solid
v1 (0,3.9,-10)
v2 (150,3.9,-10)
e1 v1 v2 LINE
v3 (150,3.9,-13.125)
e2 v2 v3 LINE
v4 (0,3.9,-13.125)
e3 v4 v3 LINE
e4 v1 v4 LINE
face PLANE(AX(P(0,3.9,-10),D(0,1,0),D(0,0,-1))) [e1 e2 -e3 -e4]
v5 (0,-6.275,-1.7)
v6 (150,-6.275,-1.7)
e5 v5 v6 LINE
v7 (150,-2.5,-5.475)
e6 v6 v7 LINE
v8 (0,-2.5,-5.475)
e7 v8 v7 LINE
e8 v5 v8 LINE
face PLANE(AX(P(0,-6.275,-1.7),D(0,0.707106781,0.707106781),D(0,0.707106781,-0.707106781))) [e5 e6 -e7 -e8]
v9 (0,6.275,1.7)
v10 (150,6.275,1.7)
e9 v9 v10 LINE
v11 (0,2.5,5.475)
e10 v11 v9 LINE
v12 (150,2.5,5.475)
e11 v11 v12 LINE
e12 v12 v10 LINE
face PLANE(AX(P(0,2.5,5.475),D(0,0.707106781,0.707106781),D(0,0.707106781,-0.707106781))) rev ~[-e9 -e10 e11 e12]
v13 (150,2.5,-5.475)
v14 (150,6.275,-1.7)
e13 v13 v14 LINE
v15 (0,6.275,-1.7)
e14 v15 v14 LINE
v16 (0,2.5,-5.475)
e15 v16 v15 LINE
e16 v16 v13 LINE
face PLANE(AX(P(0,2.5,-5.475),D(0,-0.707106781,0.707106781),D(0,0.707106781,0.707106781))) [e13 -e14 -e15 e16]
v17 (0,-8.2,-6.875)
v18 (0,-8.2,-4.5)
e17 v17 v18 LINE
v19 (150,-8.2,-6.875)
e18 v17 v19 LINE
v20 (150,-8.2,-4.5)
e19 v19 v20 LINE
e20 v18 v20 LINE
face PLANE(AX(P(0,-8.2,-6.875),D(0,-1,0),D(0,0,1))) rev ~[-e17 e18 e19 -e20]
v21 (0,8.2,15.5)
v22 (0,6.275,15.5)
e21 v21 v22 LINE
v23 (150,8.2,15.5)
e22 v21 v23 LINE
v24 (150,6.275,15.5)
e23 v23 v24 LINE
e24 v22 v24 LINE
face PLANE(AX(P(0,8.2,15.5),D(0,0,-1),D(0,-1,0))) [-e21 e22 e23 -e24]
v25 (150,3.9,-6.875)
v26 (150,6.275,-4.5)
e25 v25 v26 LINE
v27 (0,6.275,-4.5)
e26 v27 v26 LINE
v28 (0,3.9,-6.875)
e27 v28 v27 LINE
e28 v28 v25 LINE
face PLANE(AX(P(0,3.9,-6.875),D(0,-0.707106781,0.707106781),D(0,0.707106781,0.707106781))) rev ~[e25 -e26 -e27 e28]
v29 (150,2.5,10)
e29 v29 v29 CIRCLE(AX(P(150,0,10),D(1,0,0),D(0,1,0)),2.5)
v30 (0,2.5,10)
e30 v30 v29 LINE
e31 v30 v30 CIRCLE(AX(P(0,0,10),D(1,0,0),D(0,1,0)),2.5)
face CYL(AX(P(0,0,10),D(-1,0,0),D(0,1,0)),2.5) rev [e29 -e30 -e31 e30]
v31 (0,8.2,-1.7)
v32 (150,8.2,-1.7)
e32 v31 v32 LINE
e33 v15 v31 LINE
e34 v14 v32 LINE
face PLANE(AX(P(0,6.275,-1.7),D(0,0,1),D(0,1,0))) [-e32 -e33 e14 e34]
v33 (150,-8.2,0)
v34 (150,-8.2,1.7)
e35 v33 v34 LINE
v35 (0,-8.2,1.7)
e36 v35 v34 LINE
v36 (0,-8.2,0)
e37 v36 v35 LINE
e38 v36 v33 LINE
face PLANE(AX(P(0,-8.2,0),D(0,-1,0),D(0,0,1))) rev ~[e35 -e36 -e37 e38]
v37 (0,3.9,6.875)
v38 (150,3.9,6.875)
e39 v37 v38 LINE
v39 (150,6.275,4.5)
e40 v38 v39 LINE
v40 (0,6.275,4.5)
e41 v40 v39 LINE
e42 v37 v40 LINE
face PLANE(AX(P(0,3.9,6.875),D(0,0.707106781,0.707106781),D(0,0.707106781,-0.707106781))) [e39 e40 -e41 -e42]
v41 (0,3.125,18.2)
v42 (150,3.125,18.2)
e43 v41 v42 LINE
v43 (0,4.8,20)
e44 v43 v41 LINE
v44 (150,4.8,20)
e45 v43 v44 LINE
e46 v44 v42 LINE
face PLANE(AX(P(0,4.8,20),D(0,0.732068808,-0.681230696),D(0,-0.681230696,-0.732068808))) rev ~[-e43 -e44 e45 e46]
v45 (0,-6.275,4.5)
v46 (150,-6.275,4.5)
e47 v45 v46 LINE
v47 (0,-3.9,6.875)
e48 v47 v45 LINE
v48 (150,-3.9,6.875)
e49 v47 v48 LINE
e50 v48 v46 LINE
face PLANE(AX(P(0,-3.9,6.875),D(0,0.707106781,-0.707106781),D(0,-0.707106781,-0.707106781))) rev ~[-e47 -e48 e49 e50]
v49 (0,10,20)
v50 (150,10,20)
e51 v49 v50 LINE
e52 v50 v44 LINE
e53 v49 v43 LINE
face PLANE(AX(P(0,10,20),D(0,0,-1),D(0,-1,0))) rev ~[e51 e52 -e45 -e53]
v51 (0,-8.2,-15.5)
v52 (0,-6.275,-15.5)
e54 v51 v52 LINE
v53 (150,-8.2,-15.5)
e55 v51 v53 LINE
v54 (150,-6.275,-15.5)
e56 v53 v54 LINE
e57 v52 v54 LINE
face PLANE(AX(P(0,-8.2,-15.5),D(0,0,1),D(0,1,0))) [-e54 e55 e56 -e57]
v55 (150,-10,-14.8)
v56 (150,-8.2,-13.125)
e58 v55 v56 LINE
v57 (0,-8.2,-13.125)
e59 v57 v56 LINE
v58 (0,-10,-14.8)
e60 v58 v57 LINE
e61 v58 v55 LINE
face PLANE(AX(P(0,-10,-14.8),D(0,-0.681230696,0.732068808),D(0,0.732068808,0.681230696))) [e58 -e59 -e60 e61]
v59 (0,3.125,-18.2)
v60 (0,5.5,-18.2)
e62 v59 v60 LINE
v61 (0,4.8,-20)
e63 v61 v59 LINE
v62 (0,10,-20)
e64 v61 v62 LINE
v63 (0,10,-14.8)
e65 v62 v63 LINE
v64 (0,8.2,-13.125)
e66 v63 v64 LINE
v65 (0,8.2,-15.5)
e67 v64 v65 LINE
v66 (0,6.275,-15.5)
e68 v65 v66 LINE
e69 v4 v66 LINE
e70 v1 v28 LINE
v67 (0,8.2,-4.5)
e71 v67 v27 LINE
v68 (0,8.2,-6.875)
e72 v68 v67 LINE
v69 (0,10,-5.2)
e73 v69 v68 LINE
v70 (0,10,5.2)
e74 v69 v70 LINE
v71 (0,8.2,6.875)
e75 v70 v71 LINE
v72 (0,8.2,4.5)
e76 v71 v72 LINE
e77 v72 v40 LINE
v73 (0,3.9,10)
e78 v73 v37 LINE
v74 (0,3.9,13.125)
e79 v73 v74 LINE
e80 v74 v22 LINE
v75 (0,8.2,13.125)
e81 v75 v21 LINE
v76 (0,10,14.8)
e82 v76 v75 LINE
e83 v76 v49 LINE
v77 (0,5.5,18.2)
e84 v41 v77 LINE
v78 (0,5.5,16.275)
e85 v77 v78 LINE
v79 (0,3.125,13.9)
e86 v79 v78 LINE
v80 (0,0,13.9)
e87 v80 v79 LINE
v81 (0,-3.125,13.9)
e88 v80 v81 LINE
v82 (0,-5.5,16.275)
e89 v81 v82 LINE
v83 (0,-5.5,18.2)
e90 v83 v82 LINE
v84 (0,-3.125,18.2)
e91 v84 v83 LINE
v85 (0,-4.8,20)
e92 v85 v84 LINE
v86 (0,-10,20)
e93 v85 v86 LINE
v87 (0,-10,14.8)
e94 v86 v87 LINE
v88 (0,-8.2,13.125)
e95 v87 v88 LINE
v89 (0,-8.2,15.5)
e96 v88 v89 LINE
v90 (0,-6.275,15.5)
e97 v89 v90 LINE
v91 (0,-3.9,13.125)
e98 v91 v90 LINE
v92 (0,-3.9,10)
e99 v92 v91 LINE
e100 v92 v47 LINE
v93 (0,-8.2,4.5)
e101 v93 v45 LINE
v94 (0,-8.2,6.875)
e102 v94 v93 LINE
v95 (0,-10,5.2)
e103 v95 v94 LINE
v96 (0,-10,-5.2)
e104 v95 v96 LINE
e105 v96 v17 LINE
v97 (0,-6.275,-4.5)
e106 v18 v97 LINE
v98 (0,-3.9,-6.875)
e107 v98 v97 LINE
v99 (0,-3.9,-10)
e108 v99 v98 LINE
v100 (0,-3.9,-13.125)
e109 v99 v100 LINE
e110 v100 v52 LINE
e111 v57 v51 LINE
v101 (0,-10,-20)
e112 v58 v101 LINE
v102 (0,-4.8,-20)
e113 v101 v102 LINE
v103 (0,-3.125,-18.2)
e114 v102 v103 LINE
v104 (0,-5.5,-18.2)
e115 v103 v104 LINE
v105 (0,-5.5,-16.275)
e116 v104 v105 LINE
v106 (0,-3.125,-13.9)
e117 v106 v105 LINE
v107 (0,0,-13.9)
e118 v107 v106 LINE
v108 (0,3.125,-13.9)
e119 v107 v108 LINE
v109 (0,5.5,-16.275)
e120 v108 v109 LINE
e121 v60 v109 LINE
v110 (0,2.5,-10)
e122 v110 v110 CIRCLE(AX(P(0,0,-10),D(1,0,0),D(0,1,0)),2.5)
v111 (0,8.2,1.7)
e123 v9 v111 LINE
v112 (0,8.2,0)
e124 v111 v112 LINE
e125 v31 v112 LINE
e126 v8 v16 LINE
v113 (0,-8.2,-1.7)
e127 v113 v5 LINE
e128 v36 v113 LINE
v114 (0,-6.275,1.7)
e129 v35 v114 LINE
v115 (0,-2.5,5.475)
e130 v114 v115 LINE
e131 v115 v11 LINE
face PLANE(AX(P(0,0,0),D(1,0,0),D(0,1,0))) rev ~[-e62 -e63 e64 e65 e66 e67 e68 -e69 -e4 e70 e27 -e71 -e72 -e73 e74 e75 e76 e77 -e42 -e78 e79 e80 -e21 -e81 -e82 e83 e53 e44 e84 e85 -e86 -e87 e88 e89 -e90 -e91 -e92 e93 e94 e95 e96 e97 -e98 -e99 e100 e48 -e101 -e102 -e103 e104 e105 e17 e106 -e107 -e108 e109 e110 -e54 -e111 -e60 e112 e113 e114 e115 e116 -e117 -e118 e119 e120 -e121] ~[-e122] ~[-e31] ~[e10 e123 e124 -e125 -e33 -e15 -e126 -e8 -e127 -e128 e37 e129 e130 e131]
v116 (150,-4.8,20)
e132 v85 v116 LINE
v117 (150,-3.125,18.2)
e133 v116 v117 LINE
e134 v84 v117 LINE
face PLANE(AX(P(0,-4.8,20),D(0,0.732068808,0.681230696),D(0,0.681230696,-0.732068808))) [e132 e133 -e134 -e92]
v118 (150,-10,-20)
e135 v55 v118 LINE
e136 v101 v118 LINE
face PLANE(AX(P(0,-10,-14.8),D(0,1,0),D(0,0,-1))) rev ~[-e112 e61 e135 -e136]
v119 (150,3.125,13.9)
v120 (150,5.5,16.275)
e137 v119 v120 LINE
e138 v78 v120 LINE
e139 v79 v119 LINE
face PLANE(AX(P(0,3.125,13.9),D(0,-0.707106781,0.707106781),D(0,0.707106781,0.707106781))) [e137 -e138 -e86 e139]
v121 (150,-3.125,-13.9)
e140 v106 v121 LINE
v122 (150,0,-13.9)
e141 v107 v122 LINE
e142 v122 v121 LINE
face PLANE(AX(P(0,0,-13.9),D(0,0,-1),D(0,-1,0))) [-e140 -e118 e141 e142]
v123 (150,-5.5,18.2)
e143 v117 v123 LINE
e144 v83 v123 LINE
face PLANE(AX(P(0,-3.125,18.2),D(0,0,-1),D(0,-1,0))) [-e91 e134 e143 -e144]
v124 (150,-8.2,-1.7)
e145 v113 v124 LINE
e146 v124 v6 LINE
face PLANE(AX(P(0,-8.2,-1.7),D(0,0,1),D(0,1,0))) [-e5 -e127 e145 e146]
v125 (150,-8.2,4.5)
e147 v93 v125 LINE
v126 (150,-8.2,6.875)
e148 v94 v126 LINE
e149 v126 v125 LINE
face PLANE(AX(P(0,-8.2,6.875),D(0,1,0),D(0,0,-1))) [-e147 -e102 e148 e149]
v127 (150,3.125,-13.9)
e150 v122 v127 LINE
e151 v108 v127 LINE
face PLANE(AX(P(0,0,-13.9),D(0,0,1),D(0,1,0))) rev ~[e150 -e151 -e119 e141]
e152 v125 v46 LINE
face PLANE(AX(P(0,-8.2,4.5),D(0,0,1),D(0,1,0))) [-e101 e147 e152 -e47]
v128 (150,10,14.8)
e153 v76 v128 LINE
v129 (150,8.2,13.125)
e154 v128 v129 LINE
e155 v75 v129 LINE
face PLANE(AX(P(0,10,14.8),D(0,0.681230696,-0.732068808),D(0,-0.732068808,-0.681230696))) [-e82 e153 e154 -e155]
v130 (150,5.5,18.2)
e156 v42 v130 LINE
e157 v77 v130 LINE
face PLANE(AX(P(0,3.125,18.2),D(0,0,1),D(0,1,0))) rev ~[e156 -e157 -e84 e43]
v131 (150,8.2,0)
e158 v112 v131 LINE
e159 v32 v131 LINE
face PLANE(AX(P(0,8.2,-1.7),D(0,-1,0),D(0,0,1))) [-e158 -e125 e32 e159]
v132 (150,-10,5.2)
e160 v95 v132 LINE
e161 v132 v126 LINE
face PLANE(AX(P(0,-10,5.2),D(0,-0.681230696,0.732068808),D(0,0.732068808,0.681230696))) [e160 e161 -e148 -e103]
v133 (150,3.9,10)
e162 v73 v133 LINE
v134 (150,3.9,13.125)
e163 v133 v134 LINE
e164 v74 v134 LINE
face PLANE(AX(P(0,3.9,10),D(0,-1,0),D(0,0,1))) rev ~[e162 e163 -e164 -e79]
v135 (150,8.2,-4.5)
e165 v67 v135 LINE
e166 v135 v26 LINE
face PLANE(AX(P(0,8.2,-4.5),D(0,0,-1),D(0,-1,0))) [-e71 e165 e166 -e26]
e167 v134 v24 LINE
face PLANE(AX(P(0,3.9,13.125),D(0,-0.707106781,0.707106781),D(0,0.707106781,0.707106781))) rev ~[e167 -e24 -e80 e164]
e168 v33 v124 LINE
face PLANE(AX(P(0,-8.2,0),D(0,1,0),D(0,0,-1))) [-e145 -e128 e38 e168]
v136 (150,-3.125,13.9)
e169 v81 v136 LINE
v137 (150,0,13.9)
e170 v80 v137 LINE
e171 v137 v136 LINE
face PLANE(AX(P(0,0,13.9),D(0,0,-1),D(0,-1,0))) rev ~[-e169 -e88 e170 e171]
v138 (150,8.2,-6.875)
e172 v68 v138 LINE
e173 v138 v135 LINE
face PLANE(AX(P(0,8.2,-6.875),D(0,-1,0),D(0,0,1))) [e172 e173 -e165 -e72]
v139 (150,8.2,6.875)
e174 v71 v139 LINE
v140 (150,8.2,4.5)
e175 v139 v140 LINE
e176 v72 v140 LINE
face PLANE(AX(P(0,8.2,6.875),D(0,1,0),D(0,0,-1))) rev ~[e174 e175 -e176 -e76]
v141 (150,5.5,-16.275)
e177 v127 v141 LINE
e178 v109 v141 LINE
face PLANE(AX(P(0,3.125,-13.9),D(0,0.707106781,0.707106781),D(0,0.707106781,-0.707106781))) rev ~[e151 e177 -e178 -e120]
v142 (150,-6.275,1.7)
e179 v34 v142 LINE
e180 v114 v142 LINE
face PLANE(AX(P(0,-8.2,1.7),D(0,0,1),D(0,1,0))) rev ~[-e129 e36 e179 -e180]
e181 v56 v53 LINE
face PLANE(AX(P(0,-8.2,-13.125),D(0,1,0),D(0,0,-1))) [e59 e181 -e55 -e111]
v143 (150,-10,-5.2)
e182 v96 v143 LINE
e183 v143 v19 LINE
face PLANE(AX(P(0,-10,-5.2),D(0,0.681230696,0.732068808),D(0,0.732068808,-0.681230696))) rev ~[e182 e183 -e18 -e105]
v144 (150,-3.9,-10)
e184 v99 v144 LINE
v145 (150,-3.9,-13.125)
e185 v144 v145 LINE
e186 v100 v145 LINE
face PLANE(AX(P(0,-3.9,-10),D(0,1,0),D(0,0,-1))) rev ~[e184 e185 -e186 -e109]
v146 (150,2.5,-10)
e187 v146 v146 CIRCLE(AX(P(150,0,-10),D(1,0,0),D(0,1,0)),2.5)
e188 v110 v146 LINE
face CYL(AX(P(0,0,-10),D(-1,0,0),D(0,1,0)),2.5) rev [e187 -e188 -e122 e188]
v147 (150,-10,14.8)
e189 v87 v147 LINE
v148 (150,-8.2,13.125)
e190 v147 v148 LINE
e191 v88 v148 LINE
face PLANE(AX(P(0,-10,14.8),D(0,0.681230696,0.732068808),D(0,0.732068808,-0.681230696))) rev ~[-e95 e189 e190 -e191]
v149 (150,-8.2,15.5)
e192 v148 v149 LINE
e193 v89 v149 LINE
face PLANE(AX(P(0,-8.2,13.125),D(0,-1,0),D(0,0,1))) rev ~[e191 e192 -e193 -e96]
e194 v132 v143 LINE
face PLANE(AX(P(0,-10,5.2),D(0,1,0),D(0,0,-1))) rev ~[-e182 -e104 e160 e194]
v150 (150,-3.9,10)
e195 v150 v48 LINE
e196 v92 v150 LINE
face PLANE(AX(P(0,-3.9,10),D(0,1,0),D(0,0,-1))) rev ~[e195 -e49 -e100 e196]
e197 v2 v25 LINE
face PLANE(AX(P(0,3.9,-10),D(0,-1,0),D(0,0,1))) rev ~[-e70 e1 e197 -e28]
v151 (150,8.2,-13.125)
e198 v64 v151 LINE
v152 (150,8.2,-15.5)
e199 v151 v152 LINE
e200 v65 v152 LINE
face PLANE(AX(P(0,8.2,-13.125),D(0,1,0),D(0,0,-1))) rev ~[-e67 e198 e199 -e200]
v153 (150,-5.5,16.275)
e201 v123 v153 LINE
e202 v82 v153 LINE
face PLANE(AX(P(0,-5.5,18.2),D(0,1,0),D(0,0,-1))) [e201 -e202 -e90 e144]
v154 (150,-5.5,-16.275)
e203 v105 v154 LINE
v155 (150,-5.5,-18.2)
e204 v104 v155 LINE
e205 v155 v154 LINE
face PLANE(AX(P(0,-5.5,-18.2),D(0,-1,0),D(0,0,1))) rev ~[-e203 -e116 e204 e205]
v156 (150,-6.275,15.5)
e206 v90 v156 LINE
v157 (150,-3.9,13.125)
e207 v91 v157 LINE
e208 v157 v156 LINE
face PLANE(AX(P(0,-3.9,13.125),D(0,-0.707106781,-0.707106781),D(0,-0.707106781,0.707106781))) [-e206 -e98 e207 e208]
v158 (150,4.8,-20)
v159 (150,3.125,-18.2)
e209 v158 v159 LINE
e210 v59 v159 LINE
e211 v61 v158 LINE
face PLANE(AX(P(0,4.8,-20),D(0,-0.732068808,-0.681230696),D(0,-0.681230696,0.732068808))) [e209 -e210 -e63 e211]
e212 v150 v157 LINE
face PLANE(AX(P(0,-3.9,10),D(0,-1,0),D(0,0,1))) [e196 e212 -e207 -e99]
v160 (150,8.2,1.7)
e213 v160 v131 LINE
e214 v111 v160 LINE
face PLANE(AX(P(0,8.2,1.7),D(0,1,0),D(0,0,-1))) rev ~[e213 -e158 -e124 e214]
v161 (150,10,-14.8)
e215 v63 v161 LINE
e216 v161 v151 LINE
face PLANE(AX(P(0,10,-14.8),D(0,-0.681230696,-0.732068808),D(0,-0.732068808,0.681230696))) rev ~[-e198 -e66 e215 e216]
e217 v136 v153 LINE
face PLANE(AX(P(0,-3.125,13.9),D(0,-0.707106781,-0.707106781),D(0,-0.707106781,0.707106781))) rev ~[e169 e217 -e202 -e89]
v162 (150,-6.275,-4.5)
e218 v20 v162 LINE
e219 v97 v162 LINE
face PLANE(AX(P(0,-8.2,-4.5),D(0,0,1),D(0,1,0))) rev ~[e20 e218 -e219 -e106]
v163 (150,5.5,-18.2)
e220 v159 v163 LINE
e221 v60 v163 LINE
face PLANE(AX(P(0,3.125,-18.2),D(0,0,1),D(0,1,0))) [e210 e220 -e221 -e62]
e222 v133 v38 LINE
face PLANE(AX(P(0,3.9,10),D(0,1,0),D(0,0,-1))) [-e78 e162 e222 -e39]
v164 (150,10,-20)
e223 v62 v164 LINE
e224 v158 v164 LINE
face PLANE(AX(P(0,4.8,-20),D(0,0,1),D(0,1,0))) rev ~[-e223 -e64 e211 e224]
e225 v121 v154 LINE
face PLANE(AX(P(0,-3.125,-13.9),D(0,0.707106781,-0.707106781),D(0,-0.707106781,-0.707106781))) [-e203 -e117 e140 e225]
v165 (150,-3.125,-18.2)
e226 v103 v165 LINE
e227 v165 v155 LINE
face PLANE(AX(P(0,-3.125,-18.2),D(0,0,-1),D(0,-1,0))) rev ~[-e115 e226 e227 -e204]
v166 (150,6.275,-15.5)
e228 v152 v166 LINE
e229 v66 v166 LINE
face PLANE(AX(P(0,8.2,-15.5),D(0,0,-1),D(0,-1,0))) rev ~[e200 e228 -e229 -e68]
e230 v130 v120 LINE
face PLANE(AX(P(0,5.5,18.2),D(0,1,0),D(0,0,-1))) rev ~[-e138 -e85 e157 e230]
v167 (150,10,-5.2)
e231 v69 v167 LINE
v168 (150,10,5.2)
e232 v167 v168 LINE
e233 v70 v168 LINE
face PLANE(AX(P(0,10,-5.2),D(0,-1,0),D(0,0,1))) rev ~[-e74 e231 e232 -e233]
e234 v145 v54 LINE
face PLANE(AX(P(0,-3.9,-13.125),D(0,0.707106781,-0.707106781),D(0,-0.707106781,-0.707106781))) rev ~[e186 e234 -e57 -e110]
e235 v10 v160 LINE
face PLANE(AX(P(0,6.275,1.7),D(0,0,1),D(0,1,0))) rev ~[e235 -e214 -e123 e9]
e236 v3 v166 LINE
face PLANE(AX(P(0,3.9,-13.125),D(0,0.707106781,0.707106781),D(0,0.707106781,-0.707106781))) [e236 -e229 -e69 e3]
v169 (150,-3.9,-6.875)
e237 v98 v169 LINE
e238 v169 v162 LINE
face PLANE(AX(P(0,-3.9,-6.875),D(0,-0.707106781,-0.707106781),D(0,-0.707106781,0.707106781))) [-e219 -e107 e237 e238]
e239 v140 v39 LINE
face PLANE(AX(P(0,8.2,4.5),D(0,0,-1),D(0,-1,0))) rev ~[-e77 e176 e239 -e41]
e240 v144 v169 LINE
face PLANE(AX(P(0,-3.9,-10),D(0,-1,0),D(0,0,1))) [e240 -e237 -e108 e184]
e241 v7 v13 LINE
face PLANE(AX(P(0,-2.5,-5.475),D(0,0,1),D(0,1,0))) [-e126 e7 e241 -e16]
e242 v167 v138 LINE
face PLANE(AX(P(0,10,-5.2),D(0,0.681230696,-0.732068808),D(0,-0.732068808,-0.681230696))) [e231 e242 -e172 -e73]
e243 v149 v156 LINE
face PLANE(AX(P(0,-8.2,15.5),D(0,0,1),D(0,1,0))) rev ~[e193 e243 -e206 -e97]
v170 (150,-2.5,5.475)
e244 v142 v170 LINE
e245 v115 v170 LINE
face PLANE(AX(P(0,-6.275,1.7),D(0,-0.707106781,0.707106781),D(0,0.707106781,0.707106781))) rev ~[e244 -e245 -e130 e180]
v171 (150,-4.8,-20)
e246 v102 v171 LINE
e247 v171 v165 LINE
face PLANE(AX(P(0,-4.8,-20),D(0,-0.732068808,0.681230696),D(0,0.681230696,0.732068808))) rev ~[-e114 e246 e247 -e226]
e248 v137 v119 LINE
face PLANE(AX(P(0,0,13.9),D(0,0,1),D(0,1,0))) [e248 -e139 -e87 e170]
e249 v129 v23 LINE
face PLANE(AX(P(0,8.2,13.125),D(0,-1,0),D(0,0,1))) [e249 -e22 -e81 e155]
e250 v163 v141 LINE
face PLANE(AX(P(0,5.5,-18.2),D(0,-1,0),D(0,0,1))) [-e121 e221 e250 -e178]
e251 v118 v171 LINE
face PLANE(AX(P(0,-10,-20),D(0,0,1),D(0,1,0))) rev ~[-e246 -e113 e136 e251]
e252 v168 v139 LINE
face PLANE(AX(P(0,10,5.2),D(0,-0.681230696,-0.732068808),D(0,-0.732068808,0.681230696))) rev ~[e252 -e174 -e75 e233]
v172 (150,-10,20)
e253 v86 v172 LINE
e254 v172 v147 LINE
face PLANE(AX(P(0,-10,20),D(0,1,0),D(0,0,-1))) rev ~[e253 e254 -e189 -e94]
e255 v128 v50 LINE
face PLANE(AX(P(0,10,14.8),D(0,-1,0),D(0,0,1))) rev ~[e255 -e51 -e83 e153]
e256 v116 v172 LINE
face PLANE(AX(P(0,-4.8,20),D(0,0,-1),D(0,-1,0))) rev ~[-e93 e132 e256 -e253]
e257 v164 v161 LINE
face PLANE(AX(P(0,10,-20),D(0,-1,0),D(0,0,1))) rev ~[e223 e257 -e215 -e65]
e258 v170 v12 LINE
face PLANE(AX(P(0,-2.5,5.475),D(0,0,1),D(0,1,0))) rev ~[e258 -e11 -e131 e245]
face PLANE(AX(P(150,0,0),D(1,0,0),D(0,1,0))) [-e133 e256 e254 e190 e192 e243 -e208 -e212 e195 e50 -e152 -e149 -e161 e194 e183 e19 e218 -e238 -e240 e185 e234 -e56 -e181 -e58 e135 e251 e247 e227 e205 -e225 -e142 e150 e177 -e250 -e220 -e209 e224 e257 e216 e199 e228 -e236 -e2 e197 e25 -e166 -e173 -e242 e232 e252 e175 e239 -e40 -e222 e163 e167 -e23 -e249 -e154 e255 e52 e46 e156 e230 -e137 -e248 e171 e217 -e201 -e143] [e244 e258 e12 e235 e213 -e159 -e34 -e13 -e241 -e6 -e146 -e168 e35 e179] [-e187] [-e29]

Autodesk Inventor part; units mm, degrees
ref_plane "YZ Plane" through (0, 0, 0) normal (1, 0, 0) x (0, 1, 0)
ref_plane "XZ Plane" through (0, 0, 0) normal (0, 1, 0) x (-1, 0, 0)
ref_plane "XY Plane" through (0, 0, 0) normal (0, 0, 1) x (1, 0, 0)
sketch "Sketch1" plane through (0, 0, 0) normal (1, 0, 0) x (0, 1, 0)
  line L0 (10, 20) -> (-10, 20)
  line L1 (-10, 20) -> (-10, -20)
  line L2 (-10, -20) -> (10, -20)
  line L3 (10, -20) -> (10, 20)
  line L4 (10, 20) -> (-10, -20) construction
  line L5 (-10, 20) -> (10, -20) construction
  line L6 (0, -20) -> (0, -10) construction
  circle A0 centre (0, -10) radius 2.5
  line L7 (10, 0) -> (0, 0) construction
  circle A1 centre (0, 10) radius 2.5
  line L8 (0, 20) -> (0, 18.2) construction
  line L9 (0, 18.2) -> (3.125, 18.2)
  line L10 (0, 18.2) -> (0, 13.9)
  line L11 (0, 20) -> (4.8, 20)
  line L12 (4.8, 20) -> (3.125, 18.2)
  line L13 (0, 18.2) -> (5.5, 18.2)
  line L14 (0, 13.9) -> (3.125, 13.9)
  line L15 (5.5, 18.2) -> (5.5, 16.275)
  line L16 (3.125, 13.9) -> (5.5, 16.275)
  line L17 (3.125, 13.9) -> (8.7353, 13.9) construction
  line L18 (0, 18.2) -> (-3.125, 18.2)
  line L19 (0, 20) -> (-4.8, 20)
  line L20 (-4.8, 20) -> (-3.125, 18.2)
  line L21 (0, 18.2) -> (-5.5, 18.2)
  line L22 (0, 13.9) -> (-3.125, 13.9)
  line L23 (-5.5, 18.2) -> (-5.5, 16.275)
  line L24 (-3.125, 13.9) -> (-5.5, 16.275)
  line L25 (10, 10) -> (8.2, 10) construction
  line L26 (8.2, 10) -> (8.2, 6.875)
  line L27 (8.2, 10) -> (3.9, 10)
  line L28 (10, 10) -> (10, 5.2)
  line L29 (10, 5.2) -> (8.2, 6.875)
  line L30 (8.2, 10) -> (8.2, 4.5)
  line L31 (3.9, 10) -> (3.9, 6.875)
  line L32 (8.2, 4.5) -> (6.275, 4.5)
  line L33 (3.9, 6.875) -> (6.275, 4.5)
  line L34 (3.9, 13.125) -> (6.275, 15.5)
  line L35 (8.2, 10) -> (8.2, 15.5)
  line L36 (8.2, 15.5) -> (6.275, 15.5)
  line L37 (8.2, 10) -> (8.2, 13.125)
  line L38 (10, 10) -> (10, 14.8)
  line L39 (10, 14.8) -> (8.2, 13.125)
  line L40 (3.9, 10) -> (3.9, 13.125)
  line L41 (0, 10) -> (10, 10) construction
  line L42 (-3.9, 10) -> (-3.9, 13.125)
  line L43 (-3.9, 13.125) -> (-6.275, 15.5)
  line L44 (-8.2, 10) -> (-8.2, 15.5)
  line L45 (-8.2, 15.5) -> (-6.275, 15.5)
  line L46 (-10, 14.8) -> (-8.2, 13.125)
  line L47 (-3.9, 10) -> (-3.9, 6.875)
  line L48 (-3.9, 6.875) -> (-6.275, 4.5)
  line L49 (-8.2, 4.5) -> (-6.275, 4.5)
  line L50 (-8.2, 10) -> (-8.2, 4.5)
  line L51 (-10, 5.2) -> (-8.2, 6.875)
  line L52 (0, -20) -> (0, -18.2) construction
  line L53 (0, -18.2) -> (3.125, -18.2)
  line L54 (0, -18.2) -> (0, -13.9)
  line L55 (0, -20) -> (4.8, -20)
  line L56 (4.8, -20) -> (3.125, -18.2)
  line L57 (0, -18.2) -> (5.5, -18.2)
  line L58 (0, -13.9) -> (3.125, -13.9)
  line L59 (5.5, -18.2) -> (5.5, -16.275)
  line L60 (3.125, -13.9) -> (5.5, -16.275)
  line L61 (3.125, -13.9) -> (8.7353, -13.9) construction
  line L62 (-3.125, -13.9) -> (-5.5, -16.275)
  line L63 (0, -18.2) -> (-5.5, -18.2)
  line L64 (-5.5, -18.2) -> (-5.5, -16.275)
  line L65 (0, -18.2) -> (-3.125, -18.2)
  line L66 (0, -20) -> (-4.8, -20)
  line L67 (-4.8, -20) -> (-3.125, -18.2)
  line L68 (0, -13.9) -> (-3.125, -13.9)
  line L69 (8.2, -10) -> (8.2, -13.125)
  line L70 (3.9, -10) -> (3.9, -13.125)
  line L71 (3.9, -13.125) -> (6.275, -15.5)
  line L72 (10, -10) -> (10, -14.8)
  line L73 (8.2, -10) -> (8.2, -15.5)
  line L74 (8.2, -15.5) -> (6.275, -15.5)
  line L75 (10, -14.8) -> (8.2, -13.125)
  line L76 (3.9, -10) -> (3.9, -6.875)
  line L77 (3.9, -6.875) -> (6.275, -4.5)
  line L78 (8.2, -4.5) -> (6.275, -4.5)
  line L79 (8.2, -10) -> (3.9, -10)
  line L80 (8.2, -10) -> (8.2, -6.875)
  line L81 (8.2, -10) -> (8.2, -4.5)
  line L82 (10, -5.2) -> (8.2, -6.875)
  line L83 (10, -10) -> (10, -5.2)
  line L84 (10, -10) -> (8.2, -10) construction
  line L85 (-10, -14.8) -> (-8.2, -13.125)
  line L86 (-8.2, -10) -> (-8.2, -15.5)
  line L87 (-8.2, -15.5) -> (-6.275, -15.5)
  line L88 (-3.9, -13.125) -> (-6.275, -15.5)
  line L89 (-3.9, -10) -> (-3.9, -13.125)
  line L90 (-3.9, -10) -> (-3.9, -6.875)
  line L91 (-3.9, -6.875) -> (-6.275, -4.5)
  line L92 (-8.2, -4.5) -> (-6.275, -4.5)
  line L93 (-8.2, -10) -> (-8.2, -4.5)
  line L94 (-10, -5.2) -> (-8.2, -6.875)
  line L95 (-8.2, -4.5) -> (-8.2, 0) construction
  line L96 (-8.2, 0) -> (-8.2, 1.7)
  line L97 (-8.2, 1.7) -> (-6.275, 1.7)
  line L98 (-6.275, 1.7) -> (-2.5, 5.475)
  line L99 (-3.9, 6.875) -> (-1.2394, 4.2144) construction
  line L100 (-2.5, 5.475) -> (2.5, 5.475)
  line L101 (3.9, 6.875) -> (1.5625, 4.5375) construction
  line L102 (-6.275, 1.7) -> (13.7612, 1.7) construction
  line L103 (-6.275, 1.7) -> (13.7612, 1.7) construction
  line L104 (2.5, 5.475) -> (6.275, 1.7)
  line L105 (6.275, 1.7) -> (8.2, 1.7)
  line L106 (8.2, 1.7) -> (8.2, 0)
  line L107 (-8.2, 0) -> (-8.2, -1.7)
  line L108 (-8.2, -1.7) -> (-6.275, -1.7)
  line L109 (-6.275, -1.7) -> (-2.5, -5.475)
  line L110 (-2.5, -5.475) -> (2.5, -5.475)
  line L111 (2.5, -5.475) -> (6.275, -1.7)
  line L112 (6.275, -1.7) -> (8.2, -1.7)
  line L113 (8.2, -1.7) -> (8.2, 0)
  point P0 (10, -10)
  dimension "d0" = 20
  dimension "d1" = 40
  dimension "d2" = 10
  dimension "d3" = 5
  dimension "d4" = 10
  dimension "d5" = 1.8
  dimension "d6" = 3.125
  dimension "d7" = 4.3
  dimension "d9" = 4.8
  dimension "d11" = 5.5
  dimension "d12" = 3.125
  dimension "d13" = 45
  dimension "d14" = 1.8
  dimension "d15" = 3.125
  dimension "d16" = 4.3
  dimension "d17" = 4.8
  dimension "d18" = 5.5
  dimension "d19" = 3.125
  dimension "d20" = 1.7
  dimension "d21" = 0
extrude "Extrusion1" add sketch "Sketch1" along normal blind 150 contours L3 L39 L35 L36 L34 L40 L31 L33 L32 L30 L29 L82 L81 L78 L77 L76 L70 L71 L74 L73 L75 L2 L56 L57 L59 L60 L58 L68 L62 L64 L63 L67 L1 L85 L86 L87 L88 L89 L90 L91 L92 L93 L94 L51 L50 L49 L48 L47 L42 L43 L45 L44 L46 L0 L20 L21 L23 L24 L22 L14 L16 L15 L13 L12
properties part number "VSLOT"
